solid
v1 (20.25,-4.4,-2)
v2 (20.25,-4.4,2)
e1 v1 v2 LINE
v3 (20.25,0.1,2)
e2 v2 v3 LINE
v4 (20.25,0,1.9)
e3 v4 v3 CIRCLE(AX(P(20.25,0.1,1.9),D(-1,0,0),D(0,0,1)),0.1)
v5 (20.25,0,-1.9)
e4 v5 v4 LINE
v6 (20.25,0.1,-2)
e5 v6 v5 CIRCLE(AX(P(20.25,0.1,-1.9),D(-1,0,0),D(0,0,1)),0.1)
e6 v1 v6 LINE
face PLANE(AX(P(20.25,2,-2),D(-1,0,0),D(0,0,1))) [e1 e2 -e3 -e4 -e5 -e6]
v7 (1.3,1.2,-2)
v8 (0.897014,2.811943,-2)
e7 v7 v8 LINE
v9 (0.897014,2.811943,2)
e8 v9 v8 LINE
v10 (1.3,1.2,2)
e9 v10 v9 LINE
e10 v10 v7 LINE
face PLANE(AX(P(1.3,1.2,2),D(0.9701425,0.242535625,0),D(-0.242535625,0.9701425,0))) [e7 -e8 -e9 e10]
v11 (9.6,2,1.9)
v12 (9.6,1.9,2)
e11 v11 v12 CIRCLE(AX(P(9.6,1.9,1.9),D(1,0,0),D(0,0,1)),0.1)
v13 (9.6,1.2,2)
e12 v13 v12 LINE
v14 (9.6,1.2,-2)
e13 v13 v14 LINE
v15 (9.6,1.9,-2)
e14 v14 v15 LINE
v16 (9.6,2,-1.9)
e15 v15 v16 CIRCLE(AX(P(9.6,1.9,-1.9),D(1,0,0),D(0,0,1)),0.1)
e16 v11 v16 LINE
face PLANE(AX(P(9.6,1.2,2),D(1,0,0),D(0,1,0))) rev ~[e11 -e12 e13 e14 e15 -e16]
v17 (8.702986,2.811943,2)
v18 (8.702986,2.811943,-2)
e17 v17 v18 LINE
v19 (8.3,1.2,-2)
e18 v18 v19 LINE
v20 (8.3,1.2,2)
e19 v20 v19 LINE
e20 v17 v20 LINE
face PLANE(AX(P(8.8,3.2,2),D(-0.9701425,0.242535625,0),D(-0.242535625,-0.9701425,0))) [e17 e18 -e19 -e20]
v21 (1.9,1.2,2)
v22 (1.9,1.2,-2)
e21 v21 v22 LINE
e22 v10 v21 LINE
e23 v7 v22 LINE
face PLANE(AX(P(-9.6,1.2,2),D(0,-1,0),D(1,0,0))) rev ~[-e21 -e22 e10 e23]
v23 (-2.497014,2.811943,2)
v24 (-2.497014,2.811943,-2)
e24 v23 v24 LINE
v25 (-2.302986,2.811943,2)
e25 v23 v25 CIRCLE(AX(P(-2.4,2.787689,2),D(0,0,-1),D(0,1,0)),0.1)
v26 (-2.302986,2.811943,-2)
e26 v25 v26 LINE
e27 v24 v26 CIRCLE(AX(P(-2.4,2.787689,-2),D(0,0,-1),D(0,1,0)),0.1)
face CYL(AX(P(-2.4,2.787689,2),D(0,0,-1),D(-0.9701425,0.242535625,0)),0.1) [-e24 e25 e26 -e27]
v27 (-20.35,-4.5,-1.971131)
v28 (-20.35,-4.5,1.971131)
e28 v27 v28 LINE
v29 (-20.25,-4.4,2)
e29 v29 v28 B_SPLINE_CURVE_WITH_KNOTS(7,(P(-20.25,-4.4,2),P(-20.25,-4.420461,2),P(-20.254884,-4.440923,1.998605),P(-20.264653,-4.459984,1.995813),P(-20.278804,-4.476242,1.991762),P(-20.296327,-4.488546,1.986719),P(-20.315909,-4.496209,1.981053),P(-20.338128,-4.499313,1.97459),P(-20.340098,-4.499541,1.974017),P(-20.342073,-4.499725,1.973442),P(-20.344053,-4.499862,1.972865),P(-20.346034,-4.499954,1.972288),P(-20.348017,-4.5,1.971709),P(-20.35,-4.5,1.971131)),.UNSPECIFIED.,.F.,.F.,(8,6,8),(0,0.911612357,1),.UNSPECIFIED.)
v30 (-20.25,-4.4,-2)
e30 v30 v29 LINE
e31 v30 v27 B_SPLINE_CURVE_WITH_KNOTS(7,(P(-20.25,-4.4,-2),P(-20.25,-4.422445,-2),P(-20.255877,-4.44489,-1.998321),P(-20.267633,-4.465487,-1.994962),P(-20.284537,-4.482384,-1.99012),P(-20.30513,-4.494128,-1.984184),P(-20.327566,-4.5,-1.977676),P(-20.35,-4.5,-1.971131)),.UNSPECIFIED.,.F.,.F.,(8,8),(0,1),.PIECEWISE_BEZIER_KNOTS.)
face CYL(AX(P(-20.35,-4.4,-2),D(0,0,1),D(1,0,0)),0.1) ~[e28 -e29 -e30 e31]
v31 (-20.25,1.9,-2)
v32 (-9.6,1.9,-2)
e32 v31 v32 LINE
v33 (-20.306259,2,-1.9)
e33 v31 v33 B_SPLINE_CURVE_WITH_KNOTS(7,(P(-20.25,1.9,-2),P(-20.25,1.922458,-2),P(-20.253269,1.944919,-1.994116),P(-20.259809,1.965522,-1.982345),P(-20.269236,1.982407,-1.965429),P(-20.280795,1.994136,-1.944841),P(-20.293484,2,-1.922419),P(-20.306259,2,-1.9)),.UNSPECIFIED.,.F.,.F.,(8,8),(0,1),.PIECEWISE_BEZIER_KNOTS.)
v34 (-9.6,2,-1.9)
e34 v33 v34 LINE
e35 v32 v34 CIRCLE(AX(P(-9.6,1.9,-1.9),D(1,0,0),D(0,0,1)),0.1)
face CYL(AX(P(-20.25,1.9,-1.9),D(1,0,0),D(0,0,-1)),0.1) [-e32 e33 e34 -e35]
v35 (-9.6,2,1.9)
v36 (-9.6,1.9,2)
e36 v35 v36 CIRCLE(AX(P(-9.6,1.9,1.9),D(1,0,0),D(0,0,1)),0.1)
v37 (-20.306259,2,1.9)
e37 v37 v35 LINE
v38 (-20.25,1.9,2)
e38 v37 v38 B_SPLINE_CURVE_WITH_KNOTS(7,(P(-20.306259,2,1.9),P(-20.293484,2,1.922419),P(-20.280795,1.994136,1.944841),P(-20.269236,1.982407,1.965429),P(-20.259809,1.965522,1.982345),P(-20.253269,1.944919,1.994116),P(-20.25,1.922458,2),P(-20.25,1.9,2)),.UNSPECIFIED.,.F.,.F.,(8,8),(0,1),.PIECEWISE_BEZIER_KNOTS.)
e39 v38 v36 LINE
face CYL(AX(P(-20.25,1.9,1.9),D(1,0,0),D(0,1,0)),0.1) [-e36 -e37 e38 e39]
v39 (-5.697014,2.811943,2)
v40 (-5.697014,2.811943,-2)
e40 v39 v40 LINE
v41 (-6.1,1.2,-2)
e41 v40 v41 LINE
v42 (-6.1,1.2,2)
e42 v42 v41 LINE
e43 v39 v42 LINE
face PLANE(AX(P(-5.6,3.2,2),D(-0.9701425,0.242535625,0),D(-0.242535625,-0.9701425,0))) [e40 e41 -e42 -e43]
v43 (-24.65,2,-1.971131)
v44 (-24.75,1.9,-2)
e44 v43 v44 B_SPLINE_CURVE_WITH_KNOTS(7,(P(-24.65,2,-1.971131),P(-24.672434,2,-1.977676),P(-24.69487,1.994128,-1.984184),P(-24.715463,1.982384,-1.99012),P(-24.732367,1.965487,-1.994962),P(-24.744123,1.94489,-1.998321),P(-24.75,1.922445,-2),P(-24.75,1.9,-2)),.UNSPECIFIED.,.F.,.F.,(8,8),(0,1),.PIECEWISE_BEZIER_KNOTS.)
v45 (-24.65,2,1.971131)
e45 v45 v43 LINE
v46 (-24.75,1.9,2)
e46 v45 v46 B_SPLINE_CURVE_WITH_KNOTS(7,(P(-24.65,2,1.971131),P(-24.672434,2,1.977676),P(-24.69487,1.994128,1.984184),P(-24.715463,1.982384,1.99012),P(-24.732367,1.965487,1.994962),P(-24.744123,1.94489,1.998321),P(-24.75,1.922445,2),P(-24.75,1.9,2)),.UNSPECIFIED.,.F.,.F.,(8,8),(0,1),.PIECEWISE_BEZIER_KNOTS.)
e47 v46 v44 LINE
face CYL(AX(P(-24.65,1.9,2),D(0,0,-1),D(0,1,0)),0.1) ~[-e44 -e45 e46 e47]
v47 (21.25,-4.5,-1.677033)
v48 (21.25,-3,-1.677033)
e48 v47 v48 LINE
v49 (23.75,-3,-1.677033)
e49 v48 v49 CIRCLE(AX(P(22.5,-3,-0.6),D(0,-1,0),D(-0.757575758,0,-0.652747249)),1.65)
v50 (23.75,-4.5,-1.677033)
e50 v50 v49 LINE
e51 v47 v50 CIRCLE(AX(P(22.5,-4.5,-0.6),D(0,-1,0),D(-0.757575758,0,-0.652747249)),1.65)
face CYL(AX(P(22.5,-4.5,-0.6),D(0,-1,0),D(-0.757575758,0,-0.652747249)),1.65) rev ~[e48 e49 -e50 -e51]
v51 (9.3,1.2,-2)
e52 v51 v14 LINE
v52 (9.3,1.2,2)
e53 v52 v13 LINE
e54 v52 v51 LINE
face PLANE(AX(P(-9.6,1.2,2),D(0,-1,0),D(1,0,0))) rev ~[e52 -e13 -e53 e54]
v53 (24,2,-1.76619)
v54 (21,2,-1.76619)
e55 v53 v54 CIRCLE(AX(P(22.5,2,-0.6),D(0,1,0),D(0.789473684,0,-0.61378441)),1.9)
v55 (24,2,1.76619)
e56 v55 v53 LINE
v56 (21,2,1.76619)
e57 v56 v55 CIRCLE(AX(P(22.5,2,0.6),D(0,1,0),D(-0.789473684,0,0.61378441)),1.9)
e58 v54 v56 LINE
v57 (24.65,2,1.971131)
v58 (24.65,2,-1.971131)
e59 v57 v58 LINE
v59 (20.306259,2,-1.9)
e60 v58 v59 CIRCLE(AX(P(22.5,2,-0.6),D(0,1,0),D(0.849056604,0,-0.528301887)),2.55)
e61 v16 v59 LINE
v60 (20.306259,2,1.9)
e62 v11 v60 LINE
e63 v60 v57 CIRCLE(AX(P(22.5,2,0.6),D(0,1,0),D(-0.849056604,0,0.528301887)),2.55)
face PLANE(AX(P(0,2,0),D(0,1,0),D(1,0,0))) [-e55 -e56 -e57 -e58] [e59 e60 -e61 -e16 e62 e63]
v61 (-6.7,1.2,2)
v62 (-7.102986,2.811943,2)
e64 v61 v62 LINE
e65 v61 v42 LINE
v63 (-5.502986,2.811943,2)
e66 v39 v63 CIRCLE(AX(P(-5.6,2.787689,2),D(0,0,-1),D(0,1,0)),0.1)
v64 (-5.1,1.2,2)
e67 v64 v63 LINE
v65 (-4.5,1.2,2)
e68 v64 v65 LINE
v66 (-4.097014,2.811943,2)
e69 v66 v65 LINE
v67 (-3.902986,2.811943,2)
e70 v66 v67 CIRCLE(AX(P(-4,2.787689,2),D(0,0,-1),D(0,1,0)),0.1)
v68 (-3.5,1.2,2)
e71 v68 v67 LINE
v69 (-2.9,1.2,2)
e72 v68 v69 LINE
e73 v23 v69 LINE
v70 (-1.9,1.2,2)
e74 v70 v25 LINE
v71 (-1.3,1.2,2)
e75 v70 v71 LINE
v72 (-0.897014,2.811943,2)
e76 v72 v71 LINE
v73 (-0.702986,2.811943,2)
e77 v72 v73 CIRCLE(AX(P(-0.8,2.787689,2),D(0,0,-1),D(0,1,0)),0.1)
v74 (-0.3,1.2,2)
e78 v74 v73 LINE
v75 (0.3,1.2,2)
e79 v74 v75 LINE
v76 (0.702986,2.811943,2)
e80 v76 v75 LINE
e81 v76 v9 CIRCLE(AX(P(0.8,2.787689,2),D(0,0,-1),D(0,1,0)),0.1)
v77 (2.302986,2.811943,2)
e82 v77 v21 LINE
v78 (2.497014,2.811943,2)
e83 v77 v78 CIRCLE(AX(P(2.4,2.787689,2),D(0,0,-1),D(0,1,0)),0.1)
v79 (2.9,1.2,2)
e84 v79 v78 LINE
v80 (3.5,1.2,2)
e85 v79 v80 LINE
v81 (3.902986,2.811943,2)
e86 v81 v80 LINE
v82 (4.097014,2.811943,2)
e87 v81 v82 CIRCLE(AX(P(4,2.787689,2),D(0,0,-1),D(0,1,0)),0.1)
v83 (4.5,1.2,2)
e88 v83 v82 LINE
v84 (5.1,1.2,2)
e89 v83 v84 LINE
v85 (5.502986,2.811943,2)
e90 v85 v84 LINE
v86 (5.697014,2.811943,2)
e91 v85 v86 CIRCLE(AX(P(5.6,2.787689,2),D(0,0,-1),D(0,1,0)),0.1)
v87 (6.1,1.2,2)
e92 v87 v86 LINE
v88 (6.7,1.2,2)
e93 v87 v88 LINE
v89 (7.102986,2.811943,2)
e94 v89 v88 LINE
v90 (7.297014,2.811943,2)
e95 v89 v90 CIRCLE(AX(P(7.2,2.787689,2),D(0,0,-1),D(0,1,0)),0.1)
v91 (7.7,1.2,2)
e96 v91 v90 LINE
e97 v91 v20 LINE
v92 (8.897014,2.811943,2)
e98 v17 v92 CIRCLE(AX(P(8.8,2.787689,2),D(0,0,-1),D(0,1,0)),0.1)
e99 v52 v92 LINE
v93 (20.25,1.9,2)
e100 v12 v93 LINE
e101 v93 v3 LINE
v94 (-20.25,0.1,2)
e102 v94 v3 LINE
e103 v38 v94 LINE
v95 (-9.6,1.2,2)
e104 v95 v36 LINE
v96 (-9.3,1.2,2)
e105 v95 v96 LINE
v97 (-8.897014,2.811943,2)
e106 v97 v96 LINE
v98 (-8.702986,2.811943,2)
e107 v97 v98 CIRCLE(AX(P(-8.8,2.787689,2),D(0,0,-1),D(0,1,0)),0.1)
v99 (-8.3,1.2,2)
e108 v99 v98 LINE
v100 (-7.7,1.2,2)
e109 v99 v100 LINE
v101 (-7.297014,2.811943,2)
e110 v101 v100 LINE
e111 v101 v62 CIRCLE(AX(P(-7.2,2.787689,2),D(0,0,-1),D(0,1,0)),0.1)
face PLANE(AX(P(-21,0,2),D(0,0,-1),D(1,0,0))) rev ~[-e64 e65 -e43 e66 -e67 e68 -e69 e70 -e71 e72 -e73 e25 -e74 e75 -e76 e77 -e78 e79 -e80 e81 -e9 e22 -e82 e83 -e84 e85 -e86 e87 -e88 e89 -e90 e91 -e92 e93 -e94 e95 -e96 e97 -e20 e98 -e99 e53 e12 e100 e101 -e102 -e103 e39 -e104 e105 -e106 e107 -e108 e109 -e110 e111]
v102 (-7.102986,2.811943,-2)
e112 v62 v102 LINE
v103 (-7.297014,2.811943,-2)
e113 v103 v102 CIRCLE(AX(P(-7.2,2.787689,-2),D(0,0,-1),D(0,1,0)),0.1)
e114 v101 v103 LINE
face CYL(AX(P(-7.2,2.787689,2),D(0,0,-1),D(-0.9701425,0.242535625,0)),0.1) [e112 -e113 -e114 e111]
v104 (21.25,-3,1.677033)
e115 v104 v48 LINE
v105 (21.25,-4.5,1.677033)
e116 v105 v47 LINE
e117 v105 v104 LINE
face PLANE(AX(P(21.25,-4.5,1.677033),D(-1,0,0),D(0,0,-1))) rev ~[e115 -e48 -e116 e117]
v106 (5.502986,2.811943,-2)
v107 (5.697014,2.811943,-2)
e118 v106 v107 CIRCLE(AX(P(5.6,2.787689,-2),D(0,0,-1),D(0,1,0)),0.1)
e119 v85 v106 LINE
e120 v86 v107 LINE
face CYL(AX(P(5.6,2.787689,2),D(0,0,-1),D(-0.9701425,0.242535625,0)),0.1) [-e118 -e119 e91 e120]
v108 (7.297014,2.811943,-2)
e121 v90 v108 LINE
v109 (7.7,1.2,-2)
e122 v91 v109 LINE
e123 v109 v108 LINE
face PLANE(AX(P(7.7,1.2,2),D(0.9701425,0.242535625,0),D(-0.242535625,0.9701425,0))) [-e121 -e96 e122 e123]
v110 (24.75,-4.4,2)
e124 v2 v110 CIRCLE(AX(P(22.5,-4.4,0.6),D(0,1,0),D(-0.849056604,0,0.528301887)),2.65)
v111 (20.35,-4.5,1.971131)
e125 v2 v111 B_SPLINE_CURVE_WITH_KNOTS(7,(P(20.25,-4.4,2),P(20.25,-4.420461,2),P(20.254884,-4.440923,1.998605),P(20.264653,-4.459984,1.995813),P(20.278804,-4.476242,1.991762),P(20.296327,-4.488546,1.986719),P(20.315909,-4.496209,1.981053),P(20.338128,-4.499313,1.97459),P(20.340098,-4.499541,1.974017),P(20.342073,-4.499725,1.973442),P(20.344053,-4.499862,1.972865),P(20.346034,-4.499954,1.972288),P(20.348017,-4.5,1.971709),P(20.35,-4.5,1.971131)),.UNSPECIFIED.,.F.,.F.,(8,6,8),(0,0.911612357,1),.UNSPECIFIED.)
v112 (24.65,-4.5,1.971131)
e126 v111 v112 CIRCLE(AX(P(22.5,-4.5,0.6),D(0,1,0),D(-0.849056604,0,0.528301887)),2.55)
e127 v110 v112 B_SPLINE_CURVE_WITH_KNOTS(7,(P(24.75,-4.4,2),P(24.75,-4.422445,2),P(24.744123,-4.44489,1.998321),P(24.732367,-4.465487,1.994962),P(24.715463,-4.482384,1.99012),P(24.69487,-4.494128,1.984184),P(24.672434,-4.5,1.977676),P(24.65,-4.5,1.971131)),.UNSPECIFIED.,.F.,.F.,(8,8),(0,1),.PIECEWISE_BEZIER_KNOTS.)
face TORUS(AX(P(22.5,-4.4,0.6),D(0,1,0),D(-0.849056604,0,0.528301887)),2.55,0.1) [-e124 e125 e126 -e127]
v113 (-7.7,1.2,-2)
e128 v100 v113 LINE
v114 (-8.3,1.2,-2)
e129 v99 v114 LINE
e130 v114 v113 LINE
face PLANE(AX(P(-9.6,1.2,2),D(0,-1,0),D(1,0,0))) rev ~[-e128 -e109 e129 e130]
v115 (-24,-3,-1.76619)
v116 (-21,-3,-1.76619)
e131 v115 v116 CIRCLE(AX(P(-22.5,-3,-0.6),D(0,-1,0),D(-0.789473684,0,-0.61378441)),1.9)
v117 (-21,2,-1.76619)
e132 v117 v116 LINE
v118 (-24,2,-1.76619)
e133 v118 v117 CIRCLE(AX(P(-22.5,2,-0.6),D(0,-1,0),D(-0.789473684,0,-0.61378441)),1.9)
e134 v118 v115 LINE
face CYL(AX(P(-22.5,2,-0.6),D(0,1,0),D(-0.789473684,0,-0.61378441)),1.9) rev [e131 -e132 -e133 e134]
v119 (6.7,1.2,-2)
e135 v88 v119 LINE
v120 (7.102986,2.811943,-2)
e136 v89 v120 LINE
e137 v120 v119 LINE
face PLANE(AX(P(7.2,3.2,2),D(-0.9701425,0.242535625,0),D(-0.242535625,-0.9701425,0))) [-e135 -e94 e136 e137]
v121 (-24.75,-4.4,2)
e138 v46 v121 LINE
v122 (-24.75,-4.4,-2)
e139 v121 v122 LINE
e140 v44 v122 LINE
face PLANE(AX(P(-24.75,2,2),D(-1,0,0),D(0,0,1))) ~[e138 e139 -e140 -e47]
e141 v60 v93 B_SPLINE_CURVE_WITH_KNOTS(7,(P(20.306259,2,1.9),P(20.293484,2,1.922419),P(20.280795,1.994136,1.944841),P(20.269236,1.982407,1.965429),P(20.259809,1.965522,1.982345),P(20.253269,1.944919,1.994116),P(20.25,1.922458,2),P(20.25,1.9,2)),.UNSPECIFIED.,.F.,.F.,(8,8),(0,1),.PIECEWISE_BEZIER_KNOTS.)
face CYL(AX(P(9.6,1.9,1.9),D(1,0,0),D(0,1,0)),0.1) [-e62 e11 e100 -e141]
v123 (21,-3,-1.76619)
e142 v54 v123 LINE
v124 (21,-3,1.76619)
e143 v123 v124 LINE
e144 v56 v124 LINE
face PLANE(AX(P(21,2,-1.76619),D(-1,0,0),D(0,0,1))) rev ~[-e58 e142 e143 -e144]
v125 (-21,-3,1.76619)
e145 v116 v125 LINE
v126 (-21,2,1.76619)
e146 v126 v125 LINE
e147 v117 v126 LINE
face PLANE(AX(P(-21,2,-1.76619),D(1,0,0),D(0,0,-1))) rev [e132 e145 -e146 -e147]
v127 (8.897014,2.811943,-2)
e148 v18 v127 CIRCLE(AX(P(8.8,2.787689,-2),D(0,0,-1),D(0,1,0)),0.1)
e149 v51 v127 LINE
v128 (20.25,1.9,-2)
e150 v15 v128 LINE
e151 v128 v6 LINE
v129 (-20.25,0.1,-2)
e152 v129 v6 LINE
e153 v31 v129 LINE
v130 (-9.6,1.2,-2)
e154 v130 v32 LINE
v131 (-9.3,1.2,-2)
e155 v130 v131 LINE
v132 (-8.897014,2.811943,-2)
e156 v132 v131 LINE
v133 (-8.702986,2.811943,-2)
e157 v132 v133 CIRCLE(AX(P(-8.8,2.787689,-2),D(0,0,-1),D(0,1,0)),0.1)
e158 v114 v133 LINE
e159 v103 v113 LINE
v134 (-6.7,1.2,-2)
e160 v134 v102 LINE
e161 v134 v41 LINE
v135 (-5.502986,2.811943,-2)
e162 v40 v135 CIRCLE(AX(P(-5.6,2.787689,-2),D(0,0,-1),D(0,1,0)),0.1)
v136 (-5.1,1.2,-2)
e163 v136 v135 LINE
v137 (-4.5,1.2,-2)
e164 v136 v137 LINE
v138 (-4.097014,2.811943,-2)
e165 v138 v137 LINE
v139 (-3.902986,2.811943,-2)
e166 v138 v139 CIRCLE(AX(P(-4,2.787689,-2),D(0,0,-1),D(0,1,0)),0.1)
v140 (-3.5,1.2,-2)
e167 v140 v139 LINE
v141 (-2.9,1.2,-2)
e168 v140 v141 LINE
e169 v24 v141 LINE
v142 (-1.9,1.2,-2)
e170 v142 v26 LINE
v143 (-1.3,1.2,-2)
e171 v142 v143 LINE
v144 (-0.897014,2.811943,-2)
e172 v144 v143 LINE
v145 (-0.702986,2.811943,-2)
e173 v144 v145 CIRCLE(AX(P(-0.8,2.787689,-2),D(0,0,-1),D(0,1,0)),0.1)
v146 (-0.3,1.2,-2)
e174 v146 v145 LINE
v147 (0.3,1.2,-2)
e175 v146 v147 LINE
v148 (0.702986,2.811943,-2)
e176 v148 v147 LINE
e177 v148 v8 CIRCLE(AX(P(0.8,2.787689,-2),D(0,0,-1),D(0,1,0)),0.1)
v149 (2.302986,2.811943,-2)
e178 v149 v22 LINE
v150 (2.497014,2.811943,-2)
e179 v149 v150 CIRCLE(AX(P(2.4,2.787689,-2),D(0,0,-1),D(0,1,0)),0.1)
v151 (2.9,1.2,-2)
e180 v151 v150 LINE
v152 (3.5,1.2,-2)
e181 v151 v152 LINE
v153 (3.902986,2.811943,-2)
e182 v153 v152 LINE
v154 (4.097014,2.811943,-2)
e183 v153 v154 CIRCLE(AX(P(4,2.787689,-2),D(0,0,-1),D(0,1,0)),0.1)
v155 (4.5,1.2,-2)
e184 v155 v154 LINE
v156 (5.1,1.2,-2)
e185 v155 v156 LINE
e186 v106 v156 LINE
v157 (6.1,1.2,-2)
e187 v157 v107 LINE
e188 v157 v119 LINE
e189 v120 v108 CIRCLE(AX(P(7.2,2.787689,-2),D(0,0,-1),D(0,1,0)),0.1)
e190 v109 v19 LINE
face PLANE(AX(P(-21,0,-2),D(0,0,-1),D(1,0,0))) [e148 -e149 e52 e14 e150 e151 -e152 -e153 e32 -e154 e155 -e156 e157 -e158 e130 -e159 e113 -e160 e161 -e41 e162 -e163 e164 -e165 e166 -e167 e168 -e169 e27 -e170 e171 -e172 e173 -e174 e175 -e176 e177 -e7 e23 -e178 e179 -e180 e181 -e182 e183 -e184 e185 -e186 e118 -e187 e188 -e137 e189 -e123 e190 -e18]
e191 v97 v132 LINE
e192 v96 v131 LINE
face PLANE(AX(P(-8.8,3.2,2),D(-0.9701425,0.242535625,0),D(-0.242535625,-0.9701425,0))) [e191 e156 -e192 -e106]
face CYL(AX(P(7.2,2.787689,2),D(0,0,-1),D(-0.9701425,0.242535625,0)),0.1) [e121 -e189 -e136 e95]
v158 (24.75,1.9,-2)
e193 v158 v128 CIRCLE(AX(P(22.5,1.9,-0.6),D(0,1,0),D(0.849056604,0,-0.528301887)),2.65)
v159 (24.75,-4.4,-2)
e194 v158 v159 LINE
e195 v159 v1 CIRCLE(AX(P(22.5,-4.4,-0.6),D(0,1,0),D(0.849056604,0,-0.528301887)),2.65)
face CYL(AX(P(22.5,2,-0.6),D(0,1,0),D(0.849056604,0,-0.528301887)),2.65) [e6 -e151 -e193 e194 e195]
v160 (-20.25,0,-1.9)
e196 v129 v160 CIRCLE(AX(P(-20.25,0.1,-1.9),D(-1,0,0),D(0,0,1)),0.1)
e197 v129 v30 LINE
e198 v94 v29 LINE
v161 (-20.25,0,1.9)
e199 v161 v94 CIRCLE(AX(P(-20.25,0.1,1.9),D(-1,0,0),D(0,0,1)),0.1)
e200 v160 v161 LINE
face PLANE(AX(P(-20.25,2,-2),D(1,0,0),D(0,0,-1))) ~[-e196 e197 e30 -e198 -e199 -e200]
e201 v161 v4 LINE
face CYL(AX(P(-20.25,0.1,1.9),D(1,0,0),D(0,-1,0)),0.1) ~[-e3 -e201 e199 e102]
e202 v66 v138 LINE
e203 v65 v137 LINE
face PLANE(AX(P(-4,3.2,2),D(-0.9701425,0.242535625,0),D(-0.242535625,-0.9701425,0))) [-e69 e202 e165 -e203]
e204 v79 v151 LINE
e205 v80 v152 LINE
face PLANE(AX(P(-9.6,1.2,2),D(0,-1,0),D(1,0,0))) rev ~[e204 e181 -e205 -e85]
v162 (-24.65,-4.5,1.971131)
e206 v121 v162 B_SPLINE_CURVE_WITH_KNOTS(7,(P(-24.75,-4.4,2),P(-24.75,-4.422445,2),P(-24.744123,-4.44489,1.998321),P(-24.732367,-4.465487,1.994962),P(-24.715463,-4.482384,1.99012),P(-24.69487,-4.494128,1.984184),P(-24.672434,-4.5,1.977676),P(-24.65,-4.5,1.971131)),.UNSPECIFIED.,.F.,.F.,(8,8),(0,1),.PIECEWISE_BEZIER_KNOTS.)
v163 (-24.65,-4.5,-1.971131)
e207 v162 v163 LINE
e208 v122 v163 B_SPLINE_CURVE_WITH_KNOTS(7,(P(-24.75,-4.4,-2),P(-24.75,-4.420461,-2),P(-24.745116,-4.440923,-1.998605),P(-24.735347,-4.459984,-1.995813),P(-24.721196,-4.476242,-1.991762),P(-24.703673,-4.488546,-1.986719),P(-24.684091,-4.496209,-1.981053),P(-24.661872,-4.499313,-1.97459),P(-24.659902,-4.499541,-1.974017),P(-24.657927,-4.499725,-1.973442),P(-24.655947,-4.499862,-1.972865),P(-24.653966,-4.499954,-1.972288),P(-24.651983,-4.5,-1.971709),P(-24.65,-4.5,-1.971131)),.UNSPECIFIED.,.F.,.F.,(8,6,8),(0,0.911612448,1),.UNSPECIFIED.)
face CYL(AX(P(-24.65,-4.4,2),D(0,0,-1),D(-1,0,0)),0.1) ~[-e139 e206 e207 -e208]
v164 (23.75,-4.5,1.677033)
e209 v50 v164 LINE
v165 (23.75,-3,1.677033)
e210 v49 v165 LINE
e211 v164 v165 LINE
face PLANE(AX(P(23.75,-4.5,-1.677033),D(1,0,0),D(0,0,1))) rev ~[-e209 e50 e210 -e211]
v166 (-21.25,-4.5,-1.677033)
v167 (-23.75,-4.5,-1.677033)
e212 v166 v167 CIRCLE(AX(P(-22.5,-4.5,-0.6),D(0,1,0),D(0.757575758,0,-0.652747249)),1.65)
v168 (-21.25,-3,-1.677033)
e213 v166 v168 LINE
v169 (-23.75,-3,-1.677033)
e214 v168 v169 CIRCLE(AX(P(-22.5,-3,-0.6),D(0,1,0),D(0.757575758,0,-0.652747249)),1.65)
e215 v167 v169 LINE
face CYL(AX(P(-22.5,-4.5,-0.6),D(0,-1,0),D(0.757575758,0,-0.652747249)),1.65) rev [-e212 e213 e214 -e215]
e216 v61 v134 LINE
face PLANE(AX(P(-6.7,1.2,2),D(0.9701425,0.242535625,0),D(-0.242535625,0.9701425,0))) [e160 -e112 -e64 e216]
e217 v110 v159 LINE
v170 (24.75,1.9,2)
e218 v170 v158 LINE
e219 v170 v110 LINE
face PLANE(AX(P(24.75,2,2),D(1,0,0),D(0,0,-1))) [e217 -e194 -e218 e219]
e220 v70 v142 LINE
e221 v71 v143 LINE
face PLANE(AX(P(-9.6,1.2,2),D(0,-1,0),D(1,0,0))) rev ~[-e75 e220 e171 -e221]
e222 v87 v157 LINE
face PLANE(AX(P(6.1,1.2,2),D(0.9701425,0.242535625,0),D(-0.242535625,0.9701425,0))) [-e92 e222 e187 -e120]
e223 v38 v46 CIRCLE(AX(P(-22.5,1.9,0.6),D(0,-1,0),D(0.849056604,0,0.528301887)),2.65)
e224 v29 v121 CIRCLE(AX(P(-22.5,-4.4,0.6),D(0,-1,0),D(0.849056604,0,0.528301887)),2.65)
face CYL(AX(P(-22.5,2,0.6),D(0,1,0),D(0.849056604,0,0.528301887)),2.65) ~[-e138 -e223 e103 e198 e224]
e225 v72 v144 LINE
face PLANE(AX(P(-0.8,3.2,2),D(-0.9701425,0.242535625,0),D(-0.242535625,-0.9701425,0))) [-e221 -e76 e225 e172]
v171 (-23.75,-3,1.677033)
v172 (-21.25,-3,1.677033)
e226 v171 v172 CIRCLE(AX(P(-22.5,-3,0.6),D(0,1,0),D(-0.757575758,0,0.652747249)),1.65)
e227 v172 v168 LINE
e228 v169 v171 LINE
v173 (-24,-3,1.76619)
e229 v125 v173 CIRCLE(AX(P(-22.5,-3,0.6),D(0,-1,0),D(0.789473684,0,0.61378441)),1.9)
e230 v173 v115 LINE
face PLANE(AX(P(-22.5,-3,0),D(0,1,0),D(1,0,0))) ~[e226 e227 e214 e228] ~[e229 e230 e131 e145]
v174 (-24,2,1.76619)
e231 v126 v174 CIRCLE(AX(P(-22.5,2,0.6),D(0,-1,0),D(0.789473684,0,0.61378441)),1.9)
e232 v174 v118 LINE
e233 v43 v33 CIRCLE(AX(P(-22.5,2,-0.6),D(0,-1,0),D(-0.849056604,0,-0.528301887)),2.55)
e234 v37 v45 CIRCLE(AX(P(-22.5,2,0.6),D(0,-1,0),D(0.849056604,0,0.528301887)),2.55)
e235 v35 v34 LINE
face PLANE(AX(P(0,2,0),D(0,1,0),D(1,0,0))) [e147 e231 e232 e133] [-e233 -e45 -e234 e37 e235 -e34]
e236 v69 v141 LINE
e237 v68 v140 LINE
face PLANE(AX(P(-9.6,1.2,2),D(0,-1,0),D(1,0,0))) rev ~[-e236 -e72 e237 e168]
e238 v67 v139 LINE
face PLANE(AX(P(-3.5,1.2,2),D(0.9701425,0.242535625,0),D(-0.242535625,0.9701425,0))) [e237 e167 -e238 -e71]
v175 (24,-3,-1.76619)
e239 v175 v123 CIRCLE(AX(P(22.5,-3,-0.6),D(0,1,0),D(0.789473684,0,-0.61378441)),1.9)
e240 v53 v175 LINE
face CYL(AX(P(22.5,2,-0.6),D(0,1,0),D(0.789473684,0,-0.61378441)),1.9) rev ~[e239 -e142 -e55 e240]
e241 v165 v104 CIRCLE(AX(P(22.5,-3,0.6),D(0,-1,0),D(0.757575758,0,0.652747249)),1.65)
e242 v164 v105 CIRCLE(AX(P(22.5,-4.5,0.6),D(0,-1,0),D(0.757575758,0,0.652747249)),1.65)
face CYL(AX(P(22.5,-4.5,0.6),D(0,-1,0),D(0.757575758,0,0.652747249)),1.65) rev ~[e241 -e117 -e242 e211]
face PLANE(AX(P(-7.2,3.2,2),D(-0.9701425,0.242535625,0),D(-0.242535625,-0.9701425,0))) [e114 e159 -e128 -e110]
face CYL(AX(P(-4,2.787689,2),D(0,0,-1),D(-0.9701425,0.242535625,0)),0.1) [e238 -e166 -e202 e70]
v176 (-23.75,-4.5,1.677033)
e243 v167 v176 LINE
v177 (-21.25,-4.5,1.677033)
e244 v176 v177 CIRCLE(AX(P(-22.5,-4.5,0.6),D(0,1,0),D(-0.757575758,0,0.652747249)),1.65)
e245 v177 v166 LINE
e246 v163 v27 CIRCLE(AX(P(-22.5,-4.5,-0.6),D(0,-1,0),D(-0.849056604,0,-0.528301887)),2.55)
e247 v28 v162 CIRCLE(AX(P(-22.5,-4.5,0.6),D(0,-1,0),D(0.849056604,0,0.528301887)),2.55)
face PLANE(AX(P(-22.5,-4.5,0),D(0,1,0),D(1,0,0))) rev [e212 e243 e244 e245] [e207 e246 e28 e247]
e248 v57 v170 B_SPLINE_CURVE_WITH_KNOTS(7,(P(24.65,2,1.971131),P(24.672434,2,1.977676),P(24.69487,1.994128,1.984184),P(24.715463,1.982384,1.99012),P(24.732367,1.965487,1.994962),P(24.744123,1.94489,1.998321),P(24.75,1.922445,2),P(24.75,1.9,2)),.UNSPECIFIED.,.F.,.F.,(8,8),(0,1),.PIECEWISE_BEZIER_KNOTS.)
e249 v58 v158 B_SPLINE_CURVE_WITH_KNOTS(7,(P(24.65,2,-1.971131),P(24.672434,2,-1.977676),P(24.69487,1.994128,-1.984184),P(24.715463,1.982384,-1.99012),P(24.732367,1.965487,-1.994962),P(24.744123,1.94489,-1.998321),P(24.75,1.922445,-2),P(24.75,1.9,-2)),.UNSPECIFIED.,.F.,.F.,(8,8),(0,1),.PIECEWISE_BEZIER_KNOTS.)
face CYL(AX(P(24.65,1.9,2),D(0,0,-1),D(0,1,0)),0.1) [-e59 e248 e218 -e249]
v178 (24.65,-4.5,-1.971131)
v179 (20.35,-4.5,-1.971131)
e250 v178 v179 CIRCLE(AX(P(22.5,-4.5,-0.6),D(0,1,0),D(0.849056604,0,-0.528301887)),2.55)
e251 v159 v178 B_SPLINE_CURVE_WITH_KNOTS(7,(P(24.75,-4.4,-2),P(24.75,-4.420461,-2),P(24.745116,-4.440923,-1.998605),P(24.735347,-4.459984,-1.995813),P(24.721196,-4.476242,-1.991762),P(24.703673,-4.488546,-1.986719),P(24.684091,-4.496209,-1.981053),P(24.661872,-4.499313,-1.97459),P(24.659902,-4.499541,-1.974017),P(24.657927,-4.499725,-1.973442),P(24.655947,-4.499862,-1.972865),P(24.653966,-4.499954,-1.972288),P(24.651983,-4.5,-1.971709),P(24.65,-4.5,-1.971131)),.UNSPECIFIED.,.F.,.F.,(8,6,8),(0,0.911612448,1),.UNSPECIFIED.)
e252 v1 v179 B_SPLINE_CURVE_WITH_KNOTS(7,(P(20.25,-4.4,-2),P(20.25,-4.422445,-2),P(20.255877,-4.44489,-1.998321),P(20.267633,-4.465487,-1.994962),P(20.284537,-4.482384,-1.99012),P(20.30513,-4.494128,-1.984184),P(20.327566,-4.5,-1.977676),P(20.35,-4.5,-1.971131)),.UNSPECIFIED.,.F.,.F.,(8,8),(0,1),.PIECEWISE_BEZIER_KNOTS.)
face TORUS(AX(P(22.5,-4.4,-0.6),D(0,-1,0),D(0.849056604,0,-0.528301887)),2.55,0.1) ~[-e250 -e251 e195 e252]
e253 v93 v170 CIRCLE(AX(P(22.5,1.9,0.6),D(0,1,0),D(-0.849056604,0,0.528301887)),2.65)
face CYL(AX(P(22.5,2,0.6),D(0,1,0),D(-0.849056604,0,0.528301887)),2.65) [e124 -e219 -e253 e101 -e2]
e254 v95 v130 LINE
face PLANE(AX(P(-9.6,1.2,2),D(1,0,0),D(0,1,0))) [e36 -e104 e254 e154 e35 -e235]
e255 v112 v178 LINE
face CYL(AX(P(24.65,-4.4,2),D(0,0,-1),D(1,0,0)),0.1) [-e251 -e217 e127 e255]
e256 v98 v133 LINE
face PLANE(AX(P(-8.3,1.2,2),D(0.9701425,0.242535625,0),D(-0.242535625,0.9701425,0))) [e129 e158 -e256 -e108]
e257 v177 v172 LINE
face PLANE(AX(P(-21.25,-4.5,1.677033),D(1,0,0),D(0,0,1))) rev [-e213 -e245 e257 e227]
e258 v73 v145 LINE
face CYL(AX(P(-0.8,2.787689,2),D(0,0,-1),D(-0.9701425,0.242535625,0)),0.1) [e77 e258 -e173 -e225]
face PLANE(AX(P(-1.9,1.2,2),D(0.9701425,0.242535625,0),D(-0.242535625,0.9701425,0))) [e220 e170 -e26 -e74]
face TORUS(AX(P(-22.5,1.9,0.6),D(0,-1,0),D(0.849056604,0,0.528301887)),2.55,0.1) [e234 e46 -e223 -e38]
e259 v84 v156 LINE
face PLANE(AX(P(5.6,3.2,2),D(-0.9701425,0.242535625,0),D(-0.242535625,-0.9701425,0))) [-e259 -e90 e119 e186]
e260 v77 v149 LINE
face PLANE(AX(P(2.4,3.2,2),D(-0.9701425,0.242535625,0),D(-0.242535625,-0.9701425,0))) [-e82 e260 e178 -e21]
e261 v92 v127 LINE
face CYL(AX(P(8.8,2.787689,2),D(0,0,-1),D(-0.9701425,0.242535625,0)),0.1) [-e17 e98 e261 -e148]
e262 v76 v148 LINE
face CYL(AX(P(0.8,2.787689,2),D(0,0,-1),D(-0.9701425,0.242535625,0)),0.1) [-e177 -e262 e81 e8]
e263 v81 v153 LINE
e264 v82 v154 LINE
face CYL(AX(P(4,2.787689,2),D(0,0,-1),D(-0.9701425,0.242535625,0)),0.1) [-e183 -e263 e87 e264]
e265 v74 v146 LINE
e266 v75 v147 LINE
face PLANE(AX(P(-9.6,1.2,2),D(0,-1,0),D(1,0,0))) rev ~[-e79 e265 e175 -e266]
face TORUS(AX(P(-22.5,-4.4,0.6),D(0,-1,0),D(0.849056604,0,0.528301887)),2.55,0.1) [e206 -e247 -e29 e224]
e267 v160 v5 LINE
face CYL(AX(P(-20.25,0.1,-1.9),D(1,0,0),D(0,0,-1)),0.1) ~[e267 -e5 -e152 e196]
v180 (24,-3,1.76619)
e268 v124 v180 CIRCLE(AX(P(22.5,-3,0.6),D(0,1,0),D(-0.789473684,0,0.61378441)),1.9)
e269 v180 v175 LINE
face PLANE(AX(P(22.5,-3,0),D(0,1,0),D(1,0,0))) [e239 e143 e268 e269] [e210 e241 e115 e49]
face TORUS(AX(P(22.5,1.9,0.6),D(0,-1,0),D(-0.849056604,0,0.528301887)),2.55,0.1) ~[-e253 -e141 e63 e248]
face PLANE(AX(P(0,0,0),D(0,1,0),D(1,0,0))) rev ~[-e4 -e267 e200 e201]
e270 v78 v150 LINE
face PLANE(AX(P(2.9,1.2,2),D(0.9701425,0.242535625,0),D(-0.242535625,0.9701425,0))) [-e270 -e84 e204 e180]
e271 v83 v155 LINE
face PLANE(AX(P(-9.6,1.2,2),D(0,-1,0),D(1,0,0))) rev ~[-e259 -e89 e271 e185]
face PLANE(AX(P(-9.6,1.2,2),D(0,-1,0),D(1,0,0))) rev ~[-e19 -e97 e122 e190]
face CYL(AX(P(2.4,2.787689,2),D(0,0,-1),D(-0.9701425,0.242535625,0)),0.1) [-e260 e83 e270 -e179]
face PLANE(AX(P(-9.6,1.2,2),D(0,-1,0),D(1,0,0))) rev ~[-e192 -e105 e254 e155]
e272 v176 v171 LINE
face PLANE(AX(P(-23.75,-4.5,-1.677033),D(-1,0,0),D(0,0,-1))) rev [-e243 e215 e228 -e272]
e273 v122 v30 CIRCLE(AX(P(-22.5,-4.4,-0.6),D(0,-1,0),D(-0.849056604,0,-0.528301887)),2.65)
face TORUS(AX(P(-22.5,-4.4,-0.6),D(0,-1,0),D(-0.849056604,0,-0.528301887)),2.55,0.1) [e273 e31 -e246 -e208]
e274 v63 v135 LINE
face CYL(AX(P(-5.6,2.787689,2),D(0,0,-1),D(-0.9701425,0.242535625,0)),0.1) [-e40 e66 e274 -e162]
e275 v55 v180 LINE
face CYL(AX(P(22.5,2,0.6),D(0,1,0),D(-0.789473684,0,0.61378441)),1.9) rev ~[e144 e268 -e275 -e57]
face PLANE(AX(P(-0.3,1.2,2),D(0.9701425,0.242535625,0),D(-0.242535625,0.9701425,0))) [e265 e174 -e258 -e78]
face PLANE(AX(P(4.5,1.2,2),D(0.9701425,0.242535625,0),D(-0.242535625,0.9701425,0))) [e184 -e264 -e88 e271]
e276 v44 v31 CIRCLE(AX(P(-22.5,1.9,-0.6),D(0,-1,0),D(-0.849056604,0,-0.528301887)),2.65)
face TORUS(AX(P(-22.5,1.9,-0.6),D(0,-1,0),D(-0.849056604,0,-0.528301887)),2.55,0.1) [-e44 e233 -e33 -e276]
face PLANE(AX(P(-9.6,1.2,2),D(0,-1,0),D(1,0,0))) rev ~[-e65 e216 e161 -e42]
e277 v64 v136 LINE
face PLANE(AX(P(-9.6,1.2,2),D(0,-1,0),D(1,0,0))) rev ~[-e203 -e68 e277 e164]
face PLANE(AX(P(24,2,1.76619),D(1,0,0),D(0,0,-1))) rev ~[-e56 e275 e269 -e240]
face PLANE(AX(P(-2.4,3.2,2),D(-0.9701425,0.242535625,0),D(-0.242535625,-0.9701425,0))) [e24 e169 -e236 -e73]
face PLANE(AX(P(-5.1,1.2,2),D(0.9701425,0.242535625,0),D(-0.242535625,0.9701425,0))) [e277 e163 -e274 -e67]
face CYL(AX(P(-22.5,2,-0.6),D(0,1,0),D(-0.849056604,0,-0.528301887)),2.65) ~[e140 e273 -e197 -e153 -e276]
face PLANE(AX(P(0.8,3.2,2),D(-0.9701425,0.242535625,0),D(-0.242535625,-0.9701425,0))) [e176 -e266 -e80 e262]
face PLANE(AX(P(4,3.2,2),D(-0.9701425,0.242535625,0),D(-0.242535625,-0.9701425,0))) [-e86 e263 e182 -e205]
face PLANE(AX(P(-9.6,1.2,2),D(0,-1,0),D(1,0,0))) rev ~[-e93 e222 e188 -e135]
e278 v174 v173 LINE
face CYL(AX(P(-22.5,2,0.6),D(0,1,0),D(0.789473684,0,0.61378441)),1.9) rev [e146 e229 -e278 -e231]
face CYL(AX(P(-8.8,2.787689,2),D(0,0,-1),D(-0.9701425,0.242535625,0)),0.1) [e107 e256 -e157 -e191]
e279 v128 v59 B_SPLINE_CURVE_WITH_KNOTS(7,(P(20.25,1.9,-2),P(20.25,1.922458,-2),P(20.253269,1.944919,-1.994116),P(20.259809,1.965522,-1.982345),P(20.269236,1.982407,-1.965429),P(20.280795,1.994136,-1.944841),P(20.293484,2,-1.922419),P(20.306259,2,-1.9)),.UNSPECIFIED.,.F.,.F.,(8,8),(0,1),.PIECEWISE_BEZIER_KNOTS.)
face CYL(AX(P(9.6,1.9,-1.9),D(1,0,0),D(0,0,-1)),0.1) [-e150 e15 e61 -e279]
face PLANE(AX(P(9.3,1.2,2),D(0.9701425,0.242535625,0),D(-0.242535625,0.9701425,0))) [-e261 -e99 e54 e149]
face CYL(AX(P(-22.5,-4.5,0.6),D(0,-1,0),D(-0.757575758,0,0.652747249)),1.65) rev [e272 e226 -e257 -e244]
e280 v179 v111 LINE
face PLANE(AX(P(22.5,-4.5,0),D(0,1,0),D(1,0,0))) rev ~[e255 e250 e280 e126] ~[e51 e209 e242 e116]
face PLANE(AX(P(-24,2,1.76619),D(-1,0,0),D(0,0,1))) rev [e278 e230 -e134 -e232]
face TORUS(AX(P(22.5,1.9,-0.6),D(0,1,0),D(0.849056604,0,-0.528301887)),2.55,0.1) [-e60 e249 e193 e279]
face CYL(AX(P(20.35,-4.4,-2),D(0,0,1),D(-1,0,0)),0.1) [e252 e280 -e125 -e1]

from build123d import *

# Parameters (mm, degrees)
SKETCH_1_W                     = 42
SKETCH_1_H                     = 4
EXTRUDE_1_DEPTH                = 2
EXTRUDE_2_DEPTH                = 6.5
CUT_EXTRUDE_1_DEPTH            = 5
CUT_EXTRUDE_2_DEPTH            = 1.5
CUT_EXTRUDE_3_REACH            = 27.698
SKETCH_5_W                     = 19.2
SKETCH_5_H                     = 0.8
EXTRUDE_3_DEPTH                = 4
FILLET_1_R                     = 0.1
PATTERN_LINEAR_1_COUNT         = 12
PATTERN_LINEAR_1_PITCH         = 1.6
FILLET_1_OF_PATTERN_LINEAR_1_R = 0.1
FILLET_2_R                     = 0.1


with BuildPart() as part:
    # 草图1 → 凸台-拉伸1 (new body)
    with BuildSketch(Plane(origin=(0, 0, 0), x_dir=(1, 0, 0), z_dir=(0, 1, 0))):
        Rectangle(SKETCH_1_W, SKETCH_1_H)
    extrude(amount=EXTRUDE_1_DEPTH)

    # 草图2 → 凸台-拉伸2 (add)
    with BuildSketch(Plane(origin=(0, 2, 0), x_dir=(1, 0, 0), z_dir=(0, 1, 0))):
        with BuildLine():
            Line((20.25, 2), (20.25, -2))
            ThreePointArc((20.25, -2), (22.5, -3.25), (24.75, -2))
            Line((24.75, -2), (24.75, 2))
            ThreePointArc((24.75, 2), (22.5, 3.25), (20.25, 2))
        make_face()
    extrude_2 = extrude(amount=-EXTRUDE_2_DEPTH)

    # 草图3 → 切除-拉伸1 (cut)
    with BuildSketch(Plane(origin=(0, 2, 0), x_dir=(1, 0, 0), z_dir=(0, 1, 0))):
        with BuildLine():
            Line((21, 1.766190379), (21, -1.766190379))
            ThreePointArc((21, -1.766190379), (22.5, -2.5), (24, -1.766190379))
            Line((24, -1.766190379), (24, 1.766190379))
            ThreePointArc((24, 1.766190379), (22.5, 2.5), (21, 1.766190379))
        make_face()
    cut_extrude_1 = extrude(amount=-CUT_EXTRUDE_1_DEPTH, mode=Mode.SUBTRACT)

    # 草图4 → 切除-拉伸2 (cut)
    with BuildSketch(Plane.XZ.offset(4.5)):
        with BuildLine():
            Line((23.75, -1.677032961), (23.75, 1.677032961))
            ThreePointArc((23.75, 1.677032961), (22.5, 2.25), (21.25, 1.677032961))
            Line((21.25, 1.677032961), (21.25, -1.677032961))
            ThreePointArc((21.25, -1.677032961), (22.5, -2.25), (23.75, -1.677032961))
        make_face()
    cut_extrude_2 = extrude(amount=-CUT_EXTRUDE_2_DEPTH, mode=Mode.SUBTRACT)

    # 镜向1: 凸台-拉伸2, 切除-拉伸1, 切除-拉伸2 across plane
    add(extrude_2.mirror(Plane(origin=(0, 0, 0), x_dir=(0, 0, 1), z_dir=(1, 0, 0))))
    add(cut_extrude_1.mirror(Plane(origin=(0, 0, 0), x_dir=(0, 0, 1), z_dir=(1, 0, 0))), mode=Mode.SUBTRACT)
    add(cut_extrude_2.mirror(Plane(origin=(0, 0, 0), x_dir=(0, 0, 1), z_dir=(1, 0, 0))), mode=Mode.SUBTRACT)

    # 草图5 → 切除-拉伸3 (cut, up to next)
    with BuildSketch(Plane.XY.offset(2), mode=Mode.PRIVATE) as cut_extrude_3_sk1:
        with Locations((0, 1.6)):
            Rectangle(SKETCH_5_W, SKETCH_5_H)
    cut_extrude_3_tool1 = extrude(cut_extrude_3_sk1.sketch, amount=-CUT_EXTRUDE_3_REACH, mode=Mode.PRIVATE) & part.part
    add(cut_extrude_3_tool1.solids().sort_by_distance((0, 1.6, 2))[0], mode=Mode.SUBTRACT)

    # 草图6 → 凸台-拉伸3 (add)
    with BuildSketch(Plane.XY.offset(2)):
        Polygon((-9.3, 1.2), (-8.3, 1.2), (-8.8, 3.2), align=None)
    extrude_3 = extrude(amount=-EXTRUDE_3_DEPTH)

    # 圆角1
    fillet_1_edges = [part.edges().sort_by_distance(p)[0] for p in [
        (-8.8, 3.2, 0),
    ]]
    fillet(fillet_1_edges, radius=FILLET_1_R)

    # 阵列(线性)1: 凸台-拉伸3 ×12
    with Locations(*[(i * PATTERN_LINEAR_1_PITCH, 0, 0) for i in range(1, PATTERN_LINEAR_1_COUNT)]):
        add(extrude_3)

    # 圆角1 of 阵列(线性)1
    fillet_1_of_pattern_linear_1_edges = [part.edges().sort_by_distance(p)[0] for p in [
        (-7.2, 3.2, 0),
        (-5.6, 3.2, 0),
        (-4, 3.2, 0),
        (-2.4, 3.2, 0),
        (-0.8, 3.2, 0),
        (0.8, 3.2, 0),
        (2.4, 3.2, 0),
        (4, 3.2, 0),
        (5.6, 3.2, 0),
        (7.2, 3.2, 0),
        (8.8, 3.2, 0),
    ]]
    fillet(fillet_1_of_pattern_linear_1_edges, radius=FILLET_1_OF_PATTERN_LINEAR_1_R)

    # 圆角2
    fillet_2_edges = [part.edges().sort_by_distance(p)[0] for p in [
        (14.925, 2, 2),
        (-14.925, 2, -2),
        (0, 0, -2),
        (14.925, 2, -2),
        (22.5, 2, 3.25),
        (24.75, 2, 0),
        (22.5, 2, -3.25),
        (20.25, -4.5, 0),
        (22.5, -4.5, -3.25),
        (24.75, -4.5, 0),
        (22.5, -4.5, 3.25),
        (0, 0, 2),
        (-14.925, 2, 2),
        (-22.5, 2, -3.25),
        (-22.5, 2, 3.25),
        (-24.75, 2, 0),
        (-22.5, -4.5, -3.25),
        (-20.25, -4.5, 0),
        (-22.5, -4.5, 3.25),
        (-24.75, -4.5, 0),
    ]]
    fillet(fillet_2_edges, radius=FILLET_2_R)


solid = part.part
